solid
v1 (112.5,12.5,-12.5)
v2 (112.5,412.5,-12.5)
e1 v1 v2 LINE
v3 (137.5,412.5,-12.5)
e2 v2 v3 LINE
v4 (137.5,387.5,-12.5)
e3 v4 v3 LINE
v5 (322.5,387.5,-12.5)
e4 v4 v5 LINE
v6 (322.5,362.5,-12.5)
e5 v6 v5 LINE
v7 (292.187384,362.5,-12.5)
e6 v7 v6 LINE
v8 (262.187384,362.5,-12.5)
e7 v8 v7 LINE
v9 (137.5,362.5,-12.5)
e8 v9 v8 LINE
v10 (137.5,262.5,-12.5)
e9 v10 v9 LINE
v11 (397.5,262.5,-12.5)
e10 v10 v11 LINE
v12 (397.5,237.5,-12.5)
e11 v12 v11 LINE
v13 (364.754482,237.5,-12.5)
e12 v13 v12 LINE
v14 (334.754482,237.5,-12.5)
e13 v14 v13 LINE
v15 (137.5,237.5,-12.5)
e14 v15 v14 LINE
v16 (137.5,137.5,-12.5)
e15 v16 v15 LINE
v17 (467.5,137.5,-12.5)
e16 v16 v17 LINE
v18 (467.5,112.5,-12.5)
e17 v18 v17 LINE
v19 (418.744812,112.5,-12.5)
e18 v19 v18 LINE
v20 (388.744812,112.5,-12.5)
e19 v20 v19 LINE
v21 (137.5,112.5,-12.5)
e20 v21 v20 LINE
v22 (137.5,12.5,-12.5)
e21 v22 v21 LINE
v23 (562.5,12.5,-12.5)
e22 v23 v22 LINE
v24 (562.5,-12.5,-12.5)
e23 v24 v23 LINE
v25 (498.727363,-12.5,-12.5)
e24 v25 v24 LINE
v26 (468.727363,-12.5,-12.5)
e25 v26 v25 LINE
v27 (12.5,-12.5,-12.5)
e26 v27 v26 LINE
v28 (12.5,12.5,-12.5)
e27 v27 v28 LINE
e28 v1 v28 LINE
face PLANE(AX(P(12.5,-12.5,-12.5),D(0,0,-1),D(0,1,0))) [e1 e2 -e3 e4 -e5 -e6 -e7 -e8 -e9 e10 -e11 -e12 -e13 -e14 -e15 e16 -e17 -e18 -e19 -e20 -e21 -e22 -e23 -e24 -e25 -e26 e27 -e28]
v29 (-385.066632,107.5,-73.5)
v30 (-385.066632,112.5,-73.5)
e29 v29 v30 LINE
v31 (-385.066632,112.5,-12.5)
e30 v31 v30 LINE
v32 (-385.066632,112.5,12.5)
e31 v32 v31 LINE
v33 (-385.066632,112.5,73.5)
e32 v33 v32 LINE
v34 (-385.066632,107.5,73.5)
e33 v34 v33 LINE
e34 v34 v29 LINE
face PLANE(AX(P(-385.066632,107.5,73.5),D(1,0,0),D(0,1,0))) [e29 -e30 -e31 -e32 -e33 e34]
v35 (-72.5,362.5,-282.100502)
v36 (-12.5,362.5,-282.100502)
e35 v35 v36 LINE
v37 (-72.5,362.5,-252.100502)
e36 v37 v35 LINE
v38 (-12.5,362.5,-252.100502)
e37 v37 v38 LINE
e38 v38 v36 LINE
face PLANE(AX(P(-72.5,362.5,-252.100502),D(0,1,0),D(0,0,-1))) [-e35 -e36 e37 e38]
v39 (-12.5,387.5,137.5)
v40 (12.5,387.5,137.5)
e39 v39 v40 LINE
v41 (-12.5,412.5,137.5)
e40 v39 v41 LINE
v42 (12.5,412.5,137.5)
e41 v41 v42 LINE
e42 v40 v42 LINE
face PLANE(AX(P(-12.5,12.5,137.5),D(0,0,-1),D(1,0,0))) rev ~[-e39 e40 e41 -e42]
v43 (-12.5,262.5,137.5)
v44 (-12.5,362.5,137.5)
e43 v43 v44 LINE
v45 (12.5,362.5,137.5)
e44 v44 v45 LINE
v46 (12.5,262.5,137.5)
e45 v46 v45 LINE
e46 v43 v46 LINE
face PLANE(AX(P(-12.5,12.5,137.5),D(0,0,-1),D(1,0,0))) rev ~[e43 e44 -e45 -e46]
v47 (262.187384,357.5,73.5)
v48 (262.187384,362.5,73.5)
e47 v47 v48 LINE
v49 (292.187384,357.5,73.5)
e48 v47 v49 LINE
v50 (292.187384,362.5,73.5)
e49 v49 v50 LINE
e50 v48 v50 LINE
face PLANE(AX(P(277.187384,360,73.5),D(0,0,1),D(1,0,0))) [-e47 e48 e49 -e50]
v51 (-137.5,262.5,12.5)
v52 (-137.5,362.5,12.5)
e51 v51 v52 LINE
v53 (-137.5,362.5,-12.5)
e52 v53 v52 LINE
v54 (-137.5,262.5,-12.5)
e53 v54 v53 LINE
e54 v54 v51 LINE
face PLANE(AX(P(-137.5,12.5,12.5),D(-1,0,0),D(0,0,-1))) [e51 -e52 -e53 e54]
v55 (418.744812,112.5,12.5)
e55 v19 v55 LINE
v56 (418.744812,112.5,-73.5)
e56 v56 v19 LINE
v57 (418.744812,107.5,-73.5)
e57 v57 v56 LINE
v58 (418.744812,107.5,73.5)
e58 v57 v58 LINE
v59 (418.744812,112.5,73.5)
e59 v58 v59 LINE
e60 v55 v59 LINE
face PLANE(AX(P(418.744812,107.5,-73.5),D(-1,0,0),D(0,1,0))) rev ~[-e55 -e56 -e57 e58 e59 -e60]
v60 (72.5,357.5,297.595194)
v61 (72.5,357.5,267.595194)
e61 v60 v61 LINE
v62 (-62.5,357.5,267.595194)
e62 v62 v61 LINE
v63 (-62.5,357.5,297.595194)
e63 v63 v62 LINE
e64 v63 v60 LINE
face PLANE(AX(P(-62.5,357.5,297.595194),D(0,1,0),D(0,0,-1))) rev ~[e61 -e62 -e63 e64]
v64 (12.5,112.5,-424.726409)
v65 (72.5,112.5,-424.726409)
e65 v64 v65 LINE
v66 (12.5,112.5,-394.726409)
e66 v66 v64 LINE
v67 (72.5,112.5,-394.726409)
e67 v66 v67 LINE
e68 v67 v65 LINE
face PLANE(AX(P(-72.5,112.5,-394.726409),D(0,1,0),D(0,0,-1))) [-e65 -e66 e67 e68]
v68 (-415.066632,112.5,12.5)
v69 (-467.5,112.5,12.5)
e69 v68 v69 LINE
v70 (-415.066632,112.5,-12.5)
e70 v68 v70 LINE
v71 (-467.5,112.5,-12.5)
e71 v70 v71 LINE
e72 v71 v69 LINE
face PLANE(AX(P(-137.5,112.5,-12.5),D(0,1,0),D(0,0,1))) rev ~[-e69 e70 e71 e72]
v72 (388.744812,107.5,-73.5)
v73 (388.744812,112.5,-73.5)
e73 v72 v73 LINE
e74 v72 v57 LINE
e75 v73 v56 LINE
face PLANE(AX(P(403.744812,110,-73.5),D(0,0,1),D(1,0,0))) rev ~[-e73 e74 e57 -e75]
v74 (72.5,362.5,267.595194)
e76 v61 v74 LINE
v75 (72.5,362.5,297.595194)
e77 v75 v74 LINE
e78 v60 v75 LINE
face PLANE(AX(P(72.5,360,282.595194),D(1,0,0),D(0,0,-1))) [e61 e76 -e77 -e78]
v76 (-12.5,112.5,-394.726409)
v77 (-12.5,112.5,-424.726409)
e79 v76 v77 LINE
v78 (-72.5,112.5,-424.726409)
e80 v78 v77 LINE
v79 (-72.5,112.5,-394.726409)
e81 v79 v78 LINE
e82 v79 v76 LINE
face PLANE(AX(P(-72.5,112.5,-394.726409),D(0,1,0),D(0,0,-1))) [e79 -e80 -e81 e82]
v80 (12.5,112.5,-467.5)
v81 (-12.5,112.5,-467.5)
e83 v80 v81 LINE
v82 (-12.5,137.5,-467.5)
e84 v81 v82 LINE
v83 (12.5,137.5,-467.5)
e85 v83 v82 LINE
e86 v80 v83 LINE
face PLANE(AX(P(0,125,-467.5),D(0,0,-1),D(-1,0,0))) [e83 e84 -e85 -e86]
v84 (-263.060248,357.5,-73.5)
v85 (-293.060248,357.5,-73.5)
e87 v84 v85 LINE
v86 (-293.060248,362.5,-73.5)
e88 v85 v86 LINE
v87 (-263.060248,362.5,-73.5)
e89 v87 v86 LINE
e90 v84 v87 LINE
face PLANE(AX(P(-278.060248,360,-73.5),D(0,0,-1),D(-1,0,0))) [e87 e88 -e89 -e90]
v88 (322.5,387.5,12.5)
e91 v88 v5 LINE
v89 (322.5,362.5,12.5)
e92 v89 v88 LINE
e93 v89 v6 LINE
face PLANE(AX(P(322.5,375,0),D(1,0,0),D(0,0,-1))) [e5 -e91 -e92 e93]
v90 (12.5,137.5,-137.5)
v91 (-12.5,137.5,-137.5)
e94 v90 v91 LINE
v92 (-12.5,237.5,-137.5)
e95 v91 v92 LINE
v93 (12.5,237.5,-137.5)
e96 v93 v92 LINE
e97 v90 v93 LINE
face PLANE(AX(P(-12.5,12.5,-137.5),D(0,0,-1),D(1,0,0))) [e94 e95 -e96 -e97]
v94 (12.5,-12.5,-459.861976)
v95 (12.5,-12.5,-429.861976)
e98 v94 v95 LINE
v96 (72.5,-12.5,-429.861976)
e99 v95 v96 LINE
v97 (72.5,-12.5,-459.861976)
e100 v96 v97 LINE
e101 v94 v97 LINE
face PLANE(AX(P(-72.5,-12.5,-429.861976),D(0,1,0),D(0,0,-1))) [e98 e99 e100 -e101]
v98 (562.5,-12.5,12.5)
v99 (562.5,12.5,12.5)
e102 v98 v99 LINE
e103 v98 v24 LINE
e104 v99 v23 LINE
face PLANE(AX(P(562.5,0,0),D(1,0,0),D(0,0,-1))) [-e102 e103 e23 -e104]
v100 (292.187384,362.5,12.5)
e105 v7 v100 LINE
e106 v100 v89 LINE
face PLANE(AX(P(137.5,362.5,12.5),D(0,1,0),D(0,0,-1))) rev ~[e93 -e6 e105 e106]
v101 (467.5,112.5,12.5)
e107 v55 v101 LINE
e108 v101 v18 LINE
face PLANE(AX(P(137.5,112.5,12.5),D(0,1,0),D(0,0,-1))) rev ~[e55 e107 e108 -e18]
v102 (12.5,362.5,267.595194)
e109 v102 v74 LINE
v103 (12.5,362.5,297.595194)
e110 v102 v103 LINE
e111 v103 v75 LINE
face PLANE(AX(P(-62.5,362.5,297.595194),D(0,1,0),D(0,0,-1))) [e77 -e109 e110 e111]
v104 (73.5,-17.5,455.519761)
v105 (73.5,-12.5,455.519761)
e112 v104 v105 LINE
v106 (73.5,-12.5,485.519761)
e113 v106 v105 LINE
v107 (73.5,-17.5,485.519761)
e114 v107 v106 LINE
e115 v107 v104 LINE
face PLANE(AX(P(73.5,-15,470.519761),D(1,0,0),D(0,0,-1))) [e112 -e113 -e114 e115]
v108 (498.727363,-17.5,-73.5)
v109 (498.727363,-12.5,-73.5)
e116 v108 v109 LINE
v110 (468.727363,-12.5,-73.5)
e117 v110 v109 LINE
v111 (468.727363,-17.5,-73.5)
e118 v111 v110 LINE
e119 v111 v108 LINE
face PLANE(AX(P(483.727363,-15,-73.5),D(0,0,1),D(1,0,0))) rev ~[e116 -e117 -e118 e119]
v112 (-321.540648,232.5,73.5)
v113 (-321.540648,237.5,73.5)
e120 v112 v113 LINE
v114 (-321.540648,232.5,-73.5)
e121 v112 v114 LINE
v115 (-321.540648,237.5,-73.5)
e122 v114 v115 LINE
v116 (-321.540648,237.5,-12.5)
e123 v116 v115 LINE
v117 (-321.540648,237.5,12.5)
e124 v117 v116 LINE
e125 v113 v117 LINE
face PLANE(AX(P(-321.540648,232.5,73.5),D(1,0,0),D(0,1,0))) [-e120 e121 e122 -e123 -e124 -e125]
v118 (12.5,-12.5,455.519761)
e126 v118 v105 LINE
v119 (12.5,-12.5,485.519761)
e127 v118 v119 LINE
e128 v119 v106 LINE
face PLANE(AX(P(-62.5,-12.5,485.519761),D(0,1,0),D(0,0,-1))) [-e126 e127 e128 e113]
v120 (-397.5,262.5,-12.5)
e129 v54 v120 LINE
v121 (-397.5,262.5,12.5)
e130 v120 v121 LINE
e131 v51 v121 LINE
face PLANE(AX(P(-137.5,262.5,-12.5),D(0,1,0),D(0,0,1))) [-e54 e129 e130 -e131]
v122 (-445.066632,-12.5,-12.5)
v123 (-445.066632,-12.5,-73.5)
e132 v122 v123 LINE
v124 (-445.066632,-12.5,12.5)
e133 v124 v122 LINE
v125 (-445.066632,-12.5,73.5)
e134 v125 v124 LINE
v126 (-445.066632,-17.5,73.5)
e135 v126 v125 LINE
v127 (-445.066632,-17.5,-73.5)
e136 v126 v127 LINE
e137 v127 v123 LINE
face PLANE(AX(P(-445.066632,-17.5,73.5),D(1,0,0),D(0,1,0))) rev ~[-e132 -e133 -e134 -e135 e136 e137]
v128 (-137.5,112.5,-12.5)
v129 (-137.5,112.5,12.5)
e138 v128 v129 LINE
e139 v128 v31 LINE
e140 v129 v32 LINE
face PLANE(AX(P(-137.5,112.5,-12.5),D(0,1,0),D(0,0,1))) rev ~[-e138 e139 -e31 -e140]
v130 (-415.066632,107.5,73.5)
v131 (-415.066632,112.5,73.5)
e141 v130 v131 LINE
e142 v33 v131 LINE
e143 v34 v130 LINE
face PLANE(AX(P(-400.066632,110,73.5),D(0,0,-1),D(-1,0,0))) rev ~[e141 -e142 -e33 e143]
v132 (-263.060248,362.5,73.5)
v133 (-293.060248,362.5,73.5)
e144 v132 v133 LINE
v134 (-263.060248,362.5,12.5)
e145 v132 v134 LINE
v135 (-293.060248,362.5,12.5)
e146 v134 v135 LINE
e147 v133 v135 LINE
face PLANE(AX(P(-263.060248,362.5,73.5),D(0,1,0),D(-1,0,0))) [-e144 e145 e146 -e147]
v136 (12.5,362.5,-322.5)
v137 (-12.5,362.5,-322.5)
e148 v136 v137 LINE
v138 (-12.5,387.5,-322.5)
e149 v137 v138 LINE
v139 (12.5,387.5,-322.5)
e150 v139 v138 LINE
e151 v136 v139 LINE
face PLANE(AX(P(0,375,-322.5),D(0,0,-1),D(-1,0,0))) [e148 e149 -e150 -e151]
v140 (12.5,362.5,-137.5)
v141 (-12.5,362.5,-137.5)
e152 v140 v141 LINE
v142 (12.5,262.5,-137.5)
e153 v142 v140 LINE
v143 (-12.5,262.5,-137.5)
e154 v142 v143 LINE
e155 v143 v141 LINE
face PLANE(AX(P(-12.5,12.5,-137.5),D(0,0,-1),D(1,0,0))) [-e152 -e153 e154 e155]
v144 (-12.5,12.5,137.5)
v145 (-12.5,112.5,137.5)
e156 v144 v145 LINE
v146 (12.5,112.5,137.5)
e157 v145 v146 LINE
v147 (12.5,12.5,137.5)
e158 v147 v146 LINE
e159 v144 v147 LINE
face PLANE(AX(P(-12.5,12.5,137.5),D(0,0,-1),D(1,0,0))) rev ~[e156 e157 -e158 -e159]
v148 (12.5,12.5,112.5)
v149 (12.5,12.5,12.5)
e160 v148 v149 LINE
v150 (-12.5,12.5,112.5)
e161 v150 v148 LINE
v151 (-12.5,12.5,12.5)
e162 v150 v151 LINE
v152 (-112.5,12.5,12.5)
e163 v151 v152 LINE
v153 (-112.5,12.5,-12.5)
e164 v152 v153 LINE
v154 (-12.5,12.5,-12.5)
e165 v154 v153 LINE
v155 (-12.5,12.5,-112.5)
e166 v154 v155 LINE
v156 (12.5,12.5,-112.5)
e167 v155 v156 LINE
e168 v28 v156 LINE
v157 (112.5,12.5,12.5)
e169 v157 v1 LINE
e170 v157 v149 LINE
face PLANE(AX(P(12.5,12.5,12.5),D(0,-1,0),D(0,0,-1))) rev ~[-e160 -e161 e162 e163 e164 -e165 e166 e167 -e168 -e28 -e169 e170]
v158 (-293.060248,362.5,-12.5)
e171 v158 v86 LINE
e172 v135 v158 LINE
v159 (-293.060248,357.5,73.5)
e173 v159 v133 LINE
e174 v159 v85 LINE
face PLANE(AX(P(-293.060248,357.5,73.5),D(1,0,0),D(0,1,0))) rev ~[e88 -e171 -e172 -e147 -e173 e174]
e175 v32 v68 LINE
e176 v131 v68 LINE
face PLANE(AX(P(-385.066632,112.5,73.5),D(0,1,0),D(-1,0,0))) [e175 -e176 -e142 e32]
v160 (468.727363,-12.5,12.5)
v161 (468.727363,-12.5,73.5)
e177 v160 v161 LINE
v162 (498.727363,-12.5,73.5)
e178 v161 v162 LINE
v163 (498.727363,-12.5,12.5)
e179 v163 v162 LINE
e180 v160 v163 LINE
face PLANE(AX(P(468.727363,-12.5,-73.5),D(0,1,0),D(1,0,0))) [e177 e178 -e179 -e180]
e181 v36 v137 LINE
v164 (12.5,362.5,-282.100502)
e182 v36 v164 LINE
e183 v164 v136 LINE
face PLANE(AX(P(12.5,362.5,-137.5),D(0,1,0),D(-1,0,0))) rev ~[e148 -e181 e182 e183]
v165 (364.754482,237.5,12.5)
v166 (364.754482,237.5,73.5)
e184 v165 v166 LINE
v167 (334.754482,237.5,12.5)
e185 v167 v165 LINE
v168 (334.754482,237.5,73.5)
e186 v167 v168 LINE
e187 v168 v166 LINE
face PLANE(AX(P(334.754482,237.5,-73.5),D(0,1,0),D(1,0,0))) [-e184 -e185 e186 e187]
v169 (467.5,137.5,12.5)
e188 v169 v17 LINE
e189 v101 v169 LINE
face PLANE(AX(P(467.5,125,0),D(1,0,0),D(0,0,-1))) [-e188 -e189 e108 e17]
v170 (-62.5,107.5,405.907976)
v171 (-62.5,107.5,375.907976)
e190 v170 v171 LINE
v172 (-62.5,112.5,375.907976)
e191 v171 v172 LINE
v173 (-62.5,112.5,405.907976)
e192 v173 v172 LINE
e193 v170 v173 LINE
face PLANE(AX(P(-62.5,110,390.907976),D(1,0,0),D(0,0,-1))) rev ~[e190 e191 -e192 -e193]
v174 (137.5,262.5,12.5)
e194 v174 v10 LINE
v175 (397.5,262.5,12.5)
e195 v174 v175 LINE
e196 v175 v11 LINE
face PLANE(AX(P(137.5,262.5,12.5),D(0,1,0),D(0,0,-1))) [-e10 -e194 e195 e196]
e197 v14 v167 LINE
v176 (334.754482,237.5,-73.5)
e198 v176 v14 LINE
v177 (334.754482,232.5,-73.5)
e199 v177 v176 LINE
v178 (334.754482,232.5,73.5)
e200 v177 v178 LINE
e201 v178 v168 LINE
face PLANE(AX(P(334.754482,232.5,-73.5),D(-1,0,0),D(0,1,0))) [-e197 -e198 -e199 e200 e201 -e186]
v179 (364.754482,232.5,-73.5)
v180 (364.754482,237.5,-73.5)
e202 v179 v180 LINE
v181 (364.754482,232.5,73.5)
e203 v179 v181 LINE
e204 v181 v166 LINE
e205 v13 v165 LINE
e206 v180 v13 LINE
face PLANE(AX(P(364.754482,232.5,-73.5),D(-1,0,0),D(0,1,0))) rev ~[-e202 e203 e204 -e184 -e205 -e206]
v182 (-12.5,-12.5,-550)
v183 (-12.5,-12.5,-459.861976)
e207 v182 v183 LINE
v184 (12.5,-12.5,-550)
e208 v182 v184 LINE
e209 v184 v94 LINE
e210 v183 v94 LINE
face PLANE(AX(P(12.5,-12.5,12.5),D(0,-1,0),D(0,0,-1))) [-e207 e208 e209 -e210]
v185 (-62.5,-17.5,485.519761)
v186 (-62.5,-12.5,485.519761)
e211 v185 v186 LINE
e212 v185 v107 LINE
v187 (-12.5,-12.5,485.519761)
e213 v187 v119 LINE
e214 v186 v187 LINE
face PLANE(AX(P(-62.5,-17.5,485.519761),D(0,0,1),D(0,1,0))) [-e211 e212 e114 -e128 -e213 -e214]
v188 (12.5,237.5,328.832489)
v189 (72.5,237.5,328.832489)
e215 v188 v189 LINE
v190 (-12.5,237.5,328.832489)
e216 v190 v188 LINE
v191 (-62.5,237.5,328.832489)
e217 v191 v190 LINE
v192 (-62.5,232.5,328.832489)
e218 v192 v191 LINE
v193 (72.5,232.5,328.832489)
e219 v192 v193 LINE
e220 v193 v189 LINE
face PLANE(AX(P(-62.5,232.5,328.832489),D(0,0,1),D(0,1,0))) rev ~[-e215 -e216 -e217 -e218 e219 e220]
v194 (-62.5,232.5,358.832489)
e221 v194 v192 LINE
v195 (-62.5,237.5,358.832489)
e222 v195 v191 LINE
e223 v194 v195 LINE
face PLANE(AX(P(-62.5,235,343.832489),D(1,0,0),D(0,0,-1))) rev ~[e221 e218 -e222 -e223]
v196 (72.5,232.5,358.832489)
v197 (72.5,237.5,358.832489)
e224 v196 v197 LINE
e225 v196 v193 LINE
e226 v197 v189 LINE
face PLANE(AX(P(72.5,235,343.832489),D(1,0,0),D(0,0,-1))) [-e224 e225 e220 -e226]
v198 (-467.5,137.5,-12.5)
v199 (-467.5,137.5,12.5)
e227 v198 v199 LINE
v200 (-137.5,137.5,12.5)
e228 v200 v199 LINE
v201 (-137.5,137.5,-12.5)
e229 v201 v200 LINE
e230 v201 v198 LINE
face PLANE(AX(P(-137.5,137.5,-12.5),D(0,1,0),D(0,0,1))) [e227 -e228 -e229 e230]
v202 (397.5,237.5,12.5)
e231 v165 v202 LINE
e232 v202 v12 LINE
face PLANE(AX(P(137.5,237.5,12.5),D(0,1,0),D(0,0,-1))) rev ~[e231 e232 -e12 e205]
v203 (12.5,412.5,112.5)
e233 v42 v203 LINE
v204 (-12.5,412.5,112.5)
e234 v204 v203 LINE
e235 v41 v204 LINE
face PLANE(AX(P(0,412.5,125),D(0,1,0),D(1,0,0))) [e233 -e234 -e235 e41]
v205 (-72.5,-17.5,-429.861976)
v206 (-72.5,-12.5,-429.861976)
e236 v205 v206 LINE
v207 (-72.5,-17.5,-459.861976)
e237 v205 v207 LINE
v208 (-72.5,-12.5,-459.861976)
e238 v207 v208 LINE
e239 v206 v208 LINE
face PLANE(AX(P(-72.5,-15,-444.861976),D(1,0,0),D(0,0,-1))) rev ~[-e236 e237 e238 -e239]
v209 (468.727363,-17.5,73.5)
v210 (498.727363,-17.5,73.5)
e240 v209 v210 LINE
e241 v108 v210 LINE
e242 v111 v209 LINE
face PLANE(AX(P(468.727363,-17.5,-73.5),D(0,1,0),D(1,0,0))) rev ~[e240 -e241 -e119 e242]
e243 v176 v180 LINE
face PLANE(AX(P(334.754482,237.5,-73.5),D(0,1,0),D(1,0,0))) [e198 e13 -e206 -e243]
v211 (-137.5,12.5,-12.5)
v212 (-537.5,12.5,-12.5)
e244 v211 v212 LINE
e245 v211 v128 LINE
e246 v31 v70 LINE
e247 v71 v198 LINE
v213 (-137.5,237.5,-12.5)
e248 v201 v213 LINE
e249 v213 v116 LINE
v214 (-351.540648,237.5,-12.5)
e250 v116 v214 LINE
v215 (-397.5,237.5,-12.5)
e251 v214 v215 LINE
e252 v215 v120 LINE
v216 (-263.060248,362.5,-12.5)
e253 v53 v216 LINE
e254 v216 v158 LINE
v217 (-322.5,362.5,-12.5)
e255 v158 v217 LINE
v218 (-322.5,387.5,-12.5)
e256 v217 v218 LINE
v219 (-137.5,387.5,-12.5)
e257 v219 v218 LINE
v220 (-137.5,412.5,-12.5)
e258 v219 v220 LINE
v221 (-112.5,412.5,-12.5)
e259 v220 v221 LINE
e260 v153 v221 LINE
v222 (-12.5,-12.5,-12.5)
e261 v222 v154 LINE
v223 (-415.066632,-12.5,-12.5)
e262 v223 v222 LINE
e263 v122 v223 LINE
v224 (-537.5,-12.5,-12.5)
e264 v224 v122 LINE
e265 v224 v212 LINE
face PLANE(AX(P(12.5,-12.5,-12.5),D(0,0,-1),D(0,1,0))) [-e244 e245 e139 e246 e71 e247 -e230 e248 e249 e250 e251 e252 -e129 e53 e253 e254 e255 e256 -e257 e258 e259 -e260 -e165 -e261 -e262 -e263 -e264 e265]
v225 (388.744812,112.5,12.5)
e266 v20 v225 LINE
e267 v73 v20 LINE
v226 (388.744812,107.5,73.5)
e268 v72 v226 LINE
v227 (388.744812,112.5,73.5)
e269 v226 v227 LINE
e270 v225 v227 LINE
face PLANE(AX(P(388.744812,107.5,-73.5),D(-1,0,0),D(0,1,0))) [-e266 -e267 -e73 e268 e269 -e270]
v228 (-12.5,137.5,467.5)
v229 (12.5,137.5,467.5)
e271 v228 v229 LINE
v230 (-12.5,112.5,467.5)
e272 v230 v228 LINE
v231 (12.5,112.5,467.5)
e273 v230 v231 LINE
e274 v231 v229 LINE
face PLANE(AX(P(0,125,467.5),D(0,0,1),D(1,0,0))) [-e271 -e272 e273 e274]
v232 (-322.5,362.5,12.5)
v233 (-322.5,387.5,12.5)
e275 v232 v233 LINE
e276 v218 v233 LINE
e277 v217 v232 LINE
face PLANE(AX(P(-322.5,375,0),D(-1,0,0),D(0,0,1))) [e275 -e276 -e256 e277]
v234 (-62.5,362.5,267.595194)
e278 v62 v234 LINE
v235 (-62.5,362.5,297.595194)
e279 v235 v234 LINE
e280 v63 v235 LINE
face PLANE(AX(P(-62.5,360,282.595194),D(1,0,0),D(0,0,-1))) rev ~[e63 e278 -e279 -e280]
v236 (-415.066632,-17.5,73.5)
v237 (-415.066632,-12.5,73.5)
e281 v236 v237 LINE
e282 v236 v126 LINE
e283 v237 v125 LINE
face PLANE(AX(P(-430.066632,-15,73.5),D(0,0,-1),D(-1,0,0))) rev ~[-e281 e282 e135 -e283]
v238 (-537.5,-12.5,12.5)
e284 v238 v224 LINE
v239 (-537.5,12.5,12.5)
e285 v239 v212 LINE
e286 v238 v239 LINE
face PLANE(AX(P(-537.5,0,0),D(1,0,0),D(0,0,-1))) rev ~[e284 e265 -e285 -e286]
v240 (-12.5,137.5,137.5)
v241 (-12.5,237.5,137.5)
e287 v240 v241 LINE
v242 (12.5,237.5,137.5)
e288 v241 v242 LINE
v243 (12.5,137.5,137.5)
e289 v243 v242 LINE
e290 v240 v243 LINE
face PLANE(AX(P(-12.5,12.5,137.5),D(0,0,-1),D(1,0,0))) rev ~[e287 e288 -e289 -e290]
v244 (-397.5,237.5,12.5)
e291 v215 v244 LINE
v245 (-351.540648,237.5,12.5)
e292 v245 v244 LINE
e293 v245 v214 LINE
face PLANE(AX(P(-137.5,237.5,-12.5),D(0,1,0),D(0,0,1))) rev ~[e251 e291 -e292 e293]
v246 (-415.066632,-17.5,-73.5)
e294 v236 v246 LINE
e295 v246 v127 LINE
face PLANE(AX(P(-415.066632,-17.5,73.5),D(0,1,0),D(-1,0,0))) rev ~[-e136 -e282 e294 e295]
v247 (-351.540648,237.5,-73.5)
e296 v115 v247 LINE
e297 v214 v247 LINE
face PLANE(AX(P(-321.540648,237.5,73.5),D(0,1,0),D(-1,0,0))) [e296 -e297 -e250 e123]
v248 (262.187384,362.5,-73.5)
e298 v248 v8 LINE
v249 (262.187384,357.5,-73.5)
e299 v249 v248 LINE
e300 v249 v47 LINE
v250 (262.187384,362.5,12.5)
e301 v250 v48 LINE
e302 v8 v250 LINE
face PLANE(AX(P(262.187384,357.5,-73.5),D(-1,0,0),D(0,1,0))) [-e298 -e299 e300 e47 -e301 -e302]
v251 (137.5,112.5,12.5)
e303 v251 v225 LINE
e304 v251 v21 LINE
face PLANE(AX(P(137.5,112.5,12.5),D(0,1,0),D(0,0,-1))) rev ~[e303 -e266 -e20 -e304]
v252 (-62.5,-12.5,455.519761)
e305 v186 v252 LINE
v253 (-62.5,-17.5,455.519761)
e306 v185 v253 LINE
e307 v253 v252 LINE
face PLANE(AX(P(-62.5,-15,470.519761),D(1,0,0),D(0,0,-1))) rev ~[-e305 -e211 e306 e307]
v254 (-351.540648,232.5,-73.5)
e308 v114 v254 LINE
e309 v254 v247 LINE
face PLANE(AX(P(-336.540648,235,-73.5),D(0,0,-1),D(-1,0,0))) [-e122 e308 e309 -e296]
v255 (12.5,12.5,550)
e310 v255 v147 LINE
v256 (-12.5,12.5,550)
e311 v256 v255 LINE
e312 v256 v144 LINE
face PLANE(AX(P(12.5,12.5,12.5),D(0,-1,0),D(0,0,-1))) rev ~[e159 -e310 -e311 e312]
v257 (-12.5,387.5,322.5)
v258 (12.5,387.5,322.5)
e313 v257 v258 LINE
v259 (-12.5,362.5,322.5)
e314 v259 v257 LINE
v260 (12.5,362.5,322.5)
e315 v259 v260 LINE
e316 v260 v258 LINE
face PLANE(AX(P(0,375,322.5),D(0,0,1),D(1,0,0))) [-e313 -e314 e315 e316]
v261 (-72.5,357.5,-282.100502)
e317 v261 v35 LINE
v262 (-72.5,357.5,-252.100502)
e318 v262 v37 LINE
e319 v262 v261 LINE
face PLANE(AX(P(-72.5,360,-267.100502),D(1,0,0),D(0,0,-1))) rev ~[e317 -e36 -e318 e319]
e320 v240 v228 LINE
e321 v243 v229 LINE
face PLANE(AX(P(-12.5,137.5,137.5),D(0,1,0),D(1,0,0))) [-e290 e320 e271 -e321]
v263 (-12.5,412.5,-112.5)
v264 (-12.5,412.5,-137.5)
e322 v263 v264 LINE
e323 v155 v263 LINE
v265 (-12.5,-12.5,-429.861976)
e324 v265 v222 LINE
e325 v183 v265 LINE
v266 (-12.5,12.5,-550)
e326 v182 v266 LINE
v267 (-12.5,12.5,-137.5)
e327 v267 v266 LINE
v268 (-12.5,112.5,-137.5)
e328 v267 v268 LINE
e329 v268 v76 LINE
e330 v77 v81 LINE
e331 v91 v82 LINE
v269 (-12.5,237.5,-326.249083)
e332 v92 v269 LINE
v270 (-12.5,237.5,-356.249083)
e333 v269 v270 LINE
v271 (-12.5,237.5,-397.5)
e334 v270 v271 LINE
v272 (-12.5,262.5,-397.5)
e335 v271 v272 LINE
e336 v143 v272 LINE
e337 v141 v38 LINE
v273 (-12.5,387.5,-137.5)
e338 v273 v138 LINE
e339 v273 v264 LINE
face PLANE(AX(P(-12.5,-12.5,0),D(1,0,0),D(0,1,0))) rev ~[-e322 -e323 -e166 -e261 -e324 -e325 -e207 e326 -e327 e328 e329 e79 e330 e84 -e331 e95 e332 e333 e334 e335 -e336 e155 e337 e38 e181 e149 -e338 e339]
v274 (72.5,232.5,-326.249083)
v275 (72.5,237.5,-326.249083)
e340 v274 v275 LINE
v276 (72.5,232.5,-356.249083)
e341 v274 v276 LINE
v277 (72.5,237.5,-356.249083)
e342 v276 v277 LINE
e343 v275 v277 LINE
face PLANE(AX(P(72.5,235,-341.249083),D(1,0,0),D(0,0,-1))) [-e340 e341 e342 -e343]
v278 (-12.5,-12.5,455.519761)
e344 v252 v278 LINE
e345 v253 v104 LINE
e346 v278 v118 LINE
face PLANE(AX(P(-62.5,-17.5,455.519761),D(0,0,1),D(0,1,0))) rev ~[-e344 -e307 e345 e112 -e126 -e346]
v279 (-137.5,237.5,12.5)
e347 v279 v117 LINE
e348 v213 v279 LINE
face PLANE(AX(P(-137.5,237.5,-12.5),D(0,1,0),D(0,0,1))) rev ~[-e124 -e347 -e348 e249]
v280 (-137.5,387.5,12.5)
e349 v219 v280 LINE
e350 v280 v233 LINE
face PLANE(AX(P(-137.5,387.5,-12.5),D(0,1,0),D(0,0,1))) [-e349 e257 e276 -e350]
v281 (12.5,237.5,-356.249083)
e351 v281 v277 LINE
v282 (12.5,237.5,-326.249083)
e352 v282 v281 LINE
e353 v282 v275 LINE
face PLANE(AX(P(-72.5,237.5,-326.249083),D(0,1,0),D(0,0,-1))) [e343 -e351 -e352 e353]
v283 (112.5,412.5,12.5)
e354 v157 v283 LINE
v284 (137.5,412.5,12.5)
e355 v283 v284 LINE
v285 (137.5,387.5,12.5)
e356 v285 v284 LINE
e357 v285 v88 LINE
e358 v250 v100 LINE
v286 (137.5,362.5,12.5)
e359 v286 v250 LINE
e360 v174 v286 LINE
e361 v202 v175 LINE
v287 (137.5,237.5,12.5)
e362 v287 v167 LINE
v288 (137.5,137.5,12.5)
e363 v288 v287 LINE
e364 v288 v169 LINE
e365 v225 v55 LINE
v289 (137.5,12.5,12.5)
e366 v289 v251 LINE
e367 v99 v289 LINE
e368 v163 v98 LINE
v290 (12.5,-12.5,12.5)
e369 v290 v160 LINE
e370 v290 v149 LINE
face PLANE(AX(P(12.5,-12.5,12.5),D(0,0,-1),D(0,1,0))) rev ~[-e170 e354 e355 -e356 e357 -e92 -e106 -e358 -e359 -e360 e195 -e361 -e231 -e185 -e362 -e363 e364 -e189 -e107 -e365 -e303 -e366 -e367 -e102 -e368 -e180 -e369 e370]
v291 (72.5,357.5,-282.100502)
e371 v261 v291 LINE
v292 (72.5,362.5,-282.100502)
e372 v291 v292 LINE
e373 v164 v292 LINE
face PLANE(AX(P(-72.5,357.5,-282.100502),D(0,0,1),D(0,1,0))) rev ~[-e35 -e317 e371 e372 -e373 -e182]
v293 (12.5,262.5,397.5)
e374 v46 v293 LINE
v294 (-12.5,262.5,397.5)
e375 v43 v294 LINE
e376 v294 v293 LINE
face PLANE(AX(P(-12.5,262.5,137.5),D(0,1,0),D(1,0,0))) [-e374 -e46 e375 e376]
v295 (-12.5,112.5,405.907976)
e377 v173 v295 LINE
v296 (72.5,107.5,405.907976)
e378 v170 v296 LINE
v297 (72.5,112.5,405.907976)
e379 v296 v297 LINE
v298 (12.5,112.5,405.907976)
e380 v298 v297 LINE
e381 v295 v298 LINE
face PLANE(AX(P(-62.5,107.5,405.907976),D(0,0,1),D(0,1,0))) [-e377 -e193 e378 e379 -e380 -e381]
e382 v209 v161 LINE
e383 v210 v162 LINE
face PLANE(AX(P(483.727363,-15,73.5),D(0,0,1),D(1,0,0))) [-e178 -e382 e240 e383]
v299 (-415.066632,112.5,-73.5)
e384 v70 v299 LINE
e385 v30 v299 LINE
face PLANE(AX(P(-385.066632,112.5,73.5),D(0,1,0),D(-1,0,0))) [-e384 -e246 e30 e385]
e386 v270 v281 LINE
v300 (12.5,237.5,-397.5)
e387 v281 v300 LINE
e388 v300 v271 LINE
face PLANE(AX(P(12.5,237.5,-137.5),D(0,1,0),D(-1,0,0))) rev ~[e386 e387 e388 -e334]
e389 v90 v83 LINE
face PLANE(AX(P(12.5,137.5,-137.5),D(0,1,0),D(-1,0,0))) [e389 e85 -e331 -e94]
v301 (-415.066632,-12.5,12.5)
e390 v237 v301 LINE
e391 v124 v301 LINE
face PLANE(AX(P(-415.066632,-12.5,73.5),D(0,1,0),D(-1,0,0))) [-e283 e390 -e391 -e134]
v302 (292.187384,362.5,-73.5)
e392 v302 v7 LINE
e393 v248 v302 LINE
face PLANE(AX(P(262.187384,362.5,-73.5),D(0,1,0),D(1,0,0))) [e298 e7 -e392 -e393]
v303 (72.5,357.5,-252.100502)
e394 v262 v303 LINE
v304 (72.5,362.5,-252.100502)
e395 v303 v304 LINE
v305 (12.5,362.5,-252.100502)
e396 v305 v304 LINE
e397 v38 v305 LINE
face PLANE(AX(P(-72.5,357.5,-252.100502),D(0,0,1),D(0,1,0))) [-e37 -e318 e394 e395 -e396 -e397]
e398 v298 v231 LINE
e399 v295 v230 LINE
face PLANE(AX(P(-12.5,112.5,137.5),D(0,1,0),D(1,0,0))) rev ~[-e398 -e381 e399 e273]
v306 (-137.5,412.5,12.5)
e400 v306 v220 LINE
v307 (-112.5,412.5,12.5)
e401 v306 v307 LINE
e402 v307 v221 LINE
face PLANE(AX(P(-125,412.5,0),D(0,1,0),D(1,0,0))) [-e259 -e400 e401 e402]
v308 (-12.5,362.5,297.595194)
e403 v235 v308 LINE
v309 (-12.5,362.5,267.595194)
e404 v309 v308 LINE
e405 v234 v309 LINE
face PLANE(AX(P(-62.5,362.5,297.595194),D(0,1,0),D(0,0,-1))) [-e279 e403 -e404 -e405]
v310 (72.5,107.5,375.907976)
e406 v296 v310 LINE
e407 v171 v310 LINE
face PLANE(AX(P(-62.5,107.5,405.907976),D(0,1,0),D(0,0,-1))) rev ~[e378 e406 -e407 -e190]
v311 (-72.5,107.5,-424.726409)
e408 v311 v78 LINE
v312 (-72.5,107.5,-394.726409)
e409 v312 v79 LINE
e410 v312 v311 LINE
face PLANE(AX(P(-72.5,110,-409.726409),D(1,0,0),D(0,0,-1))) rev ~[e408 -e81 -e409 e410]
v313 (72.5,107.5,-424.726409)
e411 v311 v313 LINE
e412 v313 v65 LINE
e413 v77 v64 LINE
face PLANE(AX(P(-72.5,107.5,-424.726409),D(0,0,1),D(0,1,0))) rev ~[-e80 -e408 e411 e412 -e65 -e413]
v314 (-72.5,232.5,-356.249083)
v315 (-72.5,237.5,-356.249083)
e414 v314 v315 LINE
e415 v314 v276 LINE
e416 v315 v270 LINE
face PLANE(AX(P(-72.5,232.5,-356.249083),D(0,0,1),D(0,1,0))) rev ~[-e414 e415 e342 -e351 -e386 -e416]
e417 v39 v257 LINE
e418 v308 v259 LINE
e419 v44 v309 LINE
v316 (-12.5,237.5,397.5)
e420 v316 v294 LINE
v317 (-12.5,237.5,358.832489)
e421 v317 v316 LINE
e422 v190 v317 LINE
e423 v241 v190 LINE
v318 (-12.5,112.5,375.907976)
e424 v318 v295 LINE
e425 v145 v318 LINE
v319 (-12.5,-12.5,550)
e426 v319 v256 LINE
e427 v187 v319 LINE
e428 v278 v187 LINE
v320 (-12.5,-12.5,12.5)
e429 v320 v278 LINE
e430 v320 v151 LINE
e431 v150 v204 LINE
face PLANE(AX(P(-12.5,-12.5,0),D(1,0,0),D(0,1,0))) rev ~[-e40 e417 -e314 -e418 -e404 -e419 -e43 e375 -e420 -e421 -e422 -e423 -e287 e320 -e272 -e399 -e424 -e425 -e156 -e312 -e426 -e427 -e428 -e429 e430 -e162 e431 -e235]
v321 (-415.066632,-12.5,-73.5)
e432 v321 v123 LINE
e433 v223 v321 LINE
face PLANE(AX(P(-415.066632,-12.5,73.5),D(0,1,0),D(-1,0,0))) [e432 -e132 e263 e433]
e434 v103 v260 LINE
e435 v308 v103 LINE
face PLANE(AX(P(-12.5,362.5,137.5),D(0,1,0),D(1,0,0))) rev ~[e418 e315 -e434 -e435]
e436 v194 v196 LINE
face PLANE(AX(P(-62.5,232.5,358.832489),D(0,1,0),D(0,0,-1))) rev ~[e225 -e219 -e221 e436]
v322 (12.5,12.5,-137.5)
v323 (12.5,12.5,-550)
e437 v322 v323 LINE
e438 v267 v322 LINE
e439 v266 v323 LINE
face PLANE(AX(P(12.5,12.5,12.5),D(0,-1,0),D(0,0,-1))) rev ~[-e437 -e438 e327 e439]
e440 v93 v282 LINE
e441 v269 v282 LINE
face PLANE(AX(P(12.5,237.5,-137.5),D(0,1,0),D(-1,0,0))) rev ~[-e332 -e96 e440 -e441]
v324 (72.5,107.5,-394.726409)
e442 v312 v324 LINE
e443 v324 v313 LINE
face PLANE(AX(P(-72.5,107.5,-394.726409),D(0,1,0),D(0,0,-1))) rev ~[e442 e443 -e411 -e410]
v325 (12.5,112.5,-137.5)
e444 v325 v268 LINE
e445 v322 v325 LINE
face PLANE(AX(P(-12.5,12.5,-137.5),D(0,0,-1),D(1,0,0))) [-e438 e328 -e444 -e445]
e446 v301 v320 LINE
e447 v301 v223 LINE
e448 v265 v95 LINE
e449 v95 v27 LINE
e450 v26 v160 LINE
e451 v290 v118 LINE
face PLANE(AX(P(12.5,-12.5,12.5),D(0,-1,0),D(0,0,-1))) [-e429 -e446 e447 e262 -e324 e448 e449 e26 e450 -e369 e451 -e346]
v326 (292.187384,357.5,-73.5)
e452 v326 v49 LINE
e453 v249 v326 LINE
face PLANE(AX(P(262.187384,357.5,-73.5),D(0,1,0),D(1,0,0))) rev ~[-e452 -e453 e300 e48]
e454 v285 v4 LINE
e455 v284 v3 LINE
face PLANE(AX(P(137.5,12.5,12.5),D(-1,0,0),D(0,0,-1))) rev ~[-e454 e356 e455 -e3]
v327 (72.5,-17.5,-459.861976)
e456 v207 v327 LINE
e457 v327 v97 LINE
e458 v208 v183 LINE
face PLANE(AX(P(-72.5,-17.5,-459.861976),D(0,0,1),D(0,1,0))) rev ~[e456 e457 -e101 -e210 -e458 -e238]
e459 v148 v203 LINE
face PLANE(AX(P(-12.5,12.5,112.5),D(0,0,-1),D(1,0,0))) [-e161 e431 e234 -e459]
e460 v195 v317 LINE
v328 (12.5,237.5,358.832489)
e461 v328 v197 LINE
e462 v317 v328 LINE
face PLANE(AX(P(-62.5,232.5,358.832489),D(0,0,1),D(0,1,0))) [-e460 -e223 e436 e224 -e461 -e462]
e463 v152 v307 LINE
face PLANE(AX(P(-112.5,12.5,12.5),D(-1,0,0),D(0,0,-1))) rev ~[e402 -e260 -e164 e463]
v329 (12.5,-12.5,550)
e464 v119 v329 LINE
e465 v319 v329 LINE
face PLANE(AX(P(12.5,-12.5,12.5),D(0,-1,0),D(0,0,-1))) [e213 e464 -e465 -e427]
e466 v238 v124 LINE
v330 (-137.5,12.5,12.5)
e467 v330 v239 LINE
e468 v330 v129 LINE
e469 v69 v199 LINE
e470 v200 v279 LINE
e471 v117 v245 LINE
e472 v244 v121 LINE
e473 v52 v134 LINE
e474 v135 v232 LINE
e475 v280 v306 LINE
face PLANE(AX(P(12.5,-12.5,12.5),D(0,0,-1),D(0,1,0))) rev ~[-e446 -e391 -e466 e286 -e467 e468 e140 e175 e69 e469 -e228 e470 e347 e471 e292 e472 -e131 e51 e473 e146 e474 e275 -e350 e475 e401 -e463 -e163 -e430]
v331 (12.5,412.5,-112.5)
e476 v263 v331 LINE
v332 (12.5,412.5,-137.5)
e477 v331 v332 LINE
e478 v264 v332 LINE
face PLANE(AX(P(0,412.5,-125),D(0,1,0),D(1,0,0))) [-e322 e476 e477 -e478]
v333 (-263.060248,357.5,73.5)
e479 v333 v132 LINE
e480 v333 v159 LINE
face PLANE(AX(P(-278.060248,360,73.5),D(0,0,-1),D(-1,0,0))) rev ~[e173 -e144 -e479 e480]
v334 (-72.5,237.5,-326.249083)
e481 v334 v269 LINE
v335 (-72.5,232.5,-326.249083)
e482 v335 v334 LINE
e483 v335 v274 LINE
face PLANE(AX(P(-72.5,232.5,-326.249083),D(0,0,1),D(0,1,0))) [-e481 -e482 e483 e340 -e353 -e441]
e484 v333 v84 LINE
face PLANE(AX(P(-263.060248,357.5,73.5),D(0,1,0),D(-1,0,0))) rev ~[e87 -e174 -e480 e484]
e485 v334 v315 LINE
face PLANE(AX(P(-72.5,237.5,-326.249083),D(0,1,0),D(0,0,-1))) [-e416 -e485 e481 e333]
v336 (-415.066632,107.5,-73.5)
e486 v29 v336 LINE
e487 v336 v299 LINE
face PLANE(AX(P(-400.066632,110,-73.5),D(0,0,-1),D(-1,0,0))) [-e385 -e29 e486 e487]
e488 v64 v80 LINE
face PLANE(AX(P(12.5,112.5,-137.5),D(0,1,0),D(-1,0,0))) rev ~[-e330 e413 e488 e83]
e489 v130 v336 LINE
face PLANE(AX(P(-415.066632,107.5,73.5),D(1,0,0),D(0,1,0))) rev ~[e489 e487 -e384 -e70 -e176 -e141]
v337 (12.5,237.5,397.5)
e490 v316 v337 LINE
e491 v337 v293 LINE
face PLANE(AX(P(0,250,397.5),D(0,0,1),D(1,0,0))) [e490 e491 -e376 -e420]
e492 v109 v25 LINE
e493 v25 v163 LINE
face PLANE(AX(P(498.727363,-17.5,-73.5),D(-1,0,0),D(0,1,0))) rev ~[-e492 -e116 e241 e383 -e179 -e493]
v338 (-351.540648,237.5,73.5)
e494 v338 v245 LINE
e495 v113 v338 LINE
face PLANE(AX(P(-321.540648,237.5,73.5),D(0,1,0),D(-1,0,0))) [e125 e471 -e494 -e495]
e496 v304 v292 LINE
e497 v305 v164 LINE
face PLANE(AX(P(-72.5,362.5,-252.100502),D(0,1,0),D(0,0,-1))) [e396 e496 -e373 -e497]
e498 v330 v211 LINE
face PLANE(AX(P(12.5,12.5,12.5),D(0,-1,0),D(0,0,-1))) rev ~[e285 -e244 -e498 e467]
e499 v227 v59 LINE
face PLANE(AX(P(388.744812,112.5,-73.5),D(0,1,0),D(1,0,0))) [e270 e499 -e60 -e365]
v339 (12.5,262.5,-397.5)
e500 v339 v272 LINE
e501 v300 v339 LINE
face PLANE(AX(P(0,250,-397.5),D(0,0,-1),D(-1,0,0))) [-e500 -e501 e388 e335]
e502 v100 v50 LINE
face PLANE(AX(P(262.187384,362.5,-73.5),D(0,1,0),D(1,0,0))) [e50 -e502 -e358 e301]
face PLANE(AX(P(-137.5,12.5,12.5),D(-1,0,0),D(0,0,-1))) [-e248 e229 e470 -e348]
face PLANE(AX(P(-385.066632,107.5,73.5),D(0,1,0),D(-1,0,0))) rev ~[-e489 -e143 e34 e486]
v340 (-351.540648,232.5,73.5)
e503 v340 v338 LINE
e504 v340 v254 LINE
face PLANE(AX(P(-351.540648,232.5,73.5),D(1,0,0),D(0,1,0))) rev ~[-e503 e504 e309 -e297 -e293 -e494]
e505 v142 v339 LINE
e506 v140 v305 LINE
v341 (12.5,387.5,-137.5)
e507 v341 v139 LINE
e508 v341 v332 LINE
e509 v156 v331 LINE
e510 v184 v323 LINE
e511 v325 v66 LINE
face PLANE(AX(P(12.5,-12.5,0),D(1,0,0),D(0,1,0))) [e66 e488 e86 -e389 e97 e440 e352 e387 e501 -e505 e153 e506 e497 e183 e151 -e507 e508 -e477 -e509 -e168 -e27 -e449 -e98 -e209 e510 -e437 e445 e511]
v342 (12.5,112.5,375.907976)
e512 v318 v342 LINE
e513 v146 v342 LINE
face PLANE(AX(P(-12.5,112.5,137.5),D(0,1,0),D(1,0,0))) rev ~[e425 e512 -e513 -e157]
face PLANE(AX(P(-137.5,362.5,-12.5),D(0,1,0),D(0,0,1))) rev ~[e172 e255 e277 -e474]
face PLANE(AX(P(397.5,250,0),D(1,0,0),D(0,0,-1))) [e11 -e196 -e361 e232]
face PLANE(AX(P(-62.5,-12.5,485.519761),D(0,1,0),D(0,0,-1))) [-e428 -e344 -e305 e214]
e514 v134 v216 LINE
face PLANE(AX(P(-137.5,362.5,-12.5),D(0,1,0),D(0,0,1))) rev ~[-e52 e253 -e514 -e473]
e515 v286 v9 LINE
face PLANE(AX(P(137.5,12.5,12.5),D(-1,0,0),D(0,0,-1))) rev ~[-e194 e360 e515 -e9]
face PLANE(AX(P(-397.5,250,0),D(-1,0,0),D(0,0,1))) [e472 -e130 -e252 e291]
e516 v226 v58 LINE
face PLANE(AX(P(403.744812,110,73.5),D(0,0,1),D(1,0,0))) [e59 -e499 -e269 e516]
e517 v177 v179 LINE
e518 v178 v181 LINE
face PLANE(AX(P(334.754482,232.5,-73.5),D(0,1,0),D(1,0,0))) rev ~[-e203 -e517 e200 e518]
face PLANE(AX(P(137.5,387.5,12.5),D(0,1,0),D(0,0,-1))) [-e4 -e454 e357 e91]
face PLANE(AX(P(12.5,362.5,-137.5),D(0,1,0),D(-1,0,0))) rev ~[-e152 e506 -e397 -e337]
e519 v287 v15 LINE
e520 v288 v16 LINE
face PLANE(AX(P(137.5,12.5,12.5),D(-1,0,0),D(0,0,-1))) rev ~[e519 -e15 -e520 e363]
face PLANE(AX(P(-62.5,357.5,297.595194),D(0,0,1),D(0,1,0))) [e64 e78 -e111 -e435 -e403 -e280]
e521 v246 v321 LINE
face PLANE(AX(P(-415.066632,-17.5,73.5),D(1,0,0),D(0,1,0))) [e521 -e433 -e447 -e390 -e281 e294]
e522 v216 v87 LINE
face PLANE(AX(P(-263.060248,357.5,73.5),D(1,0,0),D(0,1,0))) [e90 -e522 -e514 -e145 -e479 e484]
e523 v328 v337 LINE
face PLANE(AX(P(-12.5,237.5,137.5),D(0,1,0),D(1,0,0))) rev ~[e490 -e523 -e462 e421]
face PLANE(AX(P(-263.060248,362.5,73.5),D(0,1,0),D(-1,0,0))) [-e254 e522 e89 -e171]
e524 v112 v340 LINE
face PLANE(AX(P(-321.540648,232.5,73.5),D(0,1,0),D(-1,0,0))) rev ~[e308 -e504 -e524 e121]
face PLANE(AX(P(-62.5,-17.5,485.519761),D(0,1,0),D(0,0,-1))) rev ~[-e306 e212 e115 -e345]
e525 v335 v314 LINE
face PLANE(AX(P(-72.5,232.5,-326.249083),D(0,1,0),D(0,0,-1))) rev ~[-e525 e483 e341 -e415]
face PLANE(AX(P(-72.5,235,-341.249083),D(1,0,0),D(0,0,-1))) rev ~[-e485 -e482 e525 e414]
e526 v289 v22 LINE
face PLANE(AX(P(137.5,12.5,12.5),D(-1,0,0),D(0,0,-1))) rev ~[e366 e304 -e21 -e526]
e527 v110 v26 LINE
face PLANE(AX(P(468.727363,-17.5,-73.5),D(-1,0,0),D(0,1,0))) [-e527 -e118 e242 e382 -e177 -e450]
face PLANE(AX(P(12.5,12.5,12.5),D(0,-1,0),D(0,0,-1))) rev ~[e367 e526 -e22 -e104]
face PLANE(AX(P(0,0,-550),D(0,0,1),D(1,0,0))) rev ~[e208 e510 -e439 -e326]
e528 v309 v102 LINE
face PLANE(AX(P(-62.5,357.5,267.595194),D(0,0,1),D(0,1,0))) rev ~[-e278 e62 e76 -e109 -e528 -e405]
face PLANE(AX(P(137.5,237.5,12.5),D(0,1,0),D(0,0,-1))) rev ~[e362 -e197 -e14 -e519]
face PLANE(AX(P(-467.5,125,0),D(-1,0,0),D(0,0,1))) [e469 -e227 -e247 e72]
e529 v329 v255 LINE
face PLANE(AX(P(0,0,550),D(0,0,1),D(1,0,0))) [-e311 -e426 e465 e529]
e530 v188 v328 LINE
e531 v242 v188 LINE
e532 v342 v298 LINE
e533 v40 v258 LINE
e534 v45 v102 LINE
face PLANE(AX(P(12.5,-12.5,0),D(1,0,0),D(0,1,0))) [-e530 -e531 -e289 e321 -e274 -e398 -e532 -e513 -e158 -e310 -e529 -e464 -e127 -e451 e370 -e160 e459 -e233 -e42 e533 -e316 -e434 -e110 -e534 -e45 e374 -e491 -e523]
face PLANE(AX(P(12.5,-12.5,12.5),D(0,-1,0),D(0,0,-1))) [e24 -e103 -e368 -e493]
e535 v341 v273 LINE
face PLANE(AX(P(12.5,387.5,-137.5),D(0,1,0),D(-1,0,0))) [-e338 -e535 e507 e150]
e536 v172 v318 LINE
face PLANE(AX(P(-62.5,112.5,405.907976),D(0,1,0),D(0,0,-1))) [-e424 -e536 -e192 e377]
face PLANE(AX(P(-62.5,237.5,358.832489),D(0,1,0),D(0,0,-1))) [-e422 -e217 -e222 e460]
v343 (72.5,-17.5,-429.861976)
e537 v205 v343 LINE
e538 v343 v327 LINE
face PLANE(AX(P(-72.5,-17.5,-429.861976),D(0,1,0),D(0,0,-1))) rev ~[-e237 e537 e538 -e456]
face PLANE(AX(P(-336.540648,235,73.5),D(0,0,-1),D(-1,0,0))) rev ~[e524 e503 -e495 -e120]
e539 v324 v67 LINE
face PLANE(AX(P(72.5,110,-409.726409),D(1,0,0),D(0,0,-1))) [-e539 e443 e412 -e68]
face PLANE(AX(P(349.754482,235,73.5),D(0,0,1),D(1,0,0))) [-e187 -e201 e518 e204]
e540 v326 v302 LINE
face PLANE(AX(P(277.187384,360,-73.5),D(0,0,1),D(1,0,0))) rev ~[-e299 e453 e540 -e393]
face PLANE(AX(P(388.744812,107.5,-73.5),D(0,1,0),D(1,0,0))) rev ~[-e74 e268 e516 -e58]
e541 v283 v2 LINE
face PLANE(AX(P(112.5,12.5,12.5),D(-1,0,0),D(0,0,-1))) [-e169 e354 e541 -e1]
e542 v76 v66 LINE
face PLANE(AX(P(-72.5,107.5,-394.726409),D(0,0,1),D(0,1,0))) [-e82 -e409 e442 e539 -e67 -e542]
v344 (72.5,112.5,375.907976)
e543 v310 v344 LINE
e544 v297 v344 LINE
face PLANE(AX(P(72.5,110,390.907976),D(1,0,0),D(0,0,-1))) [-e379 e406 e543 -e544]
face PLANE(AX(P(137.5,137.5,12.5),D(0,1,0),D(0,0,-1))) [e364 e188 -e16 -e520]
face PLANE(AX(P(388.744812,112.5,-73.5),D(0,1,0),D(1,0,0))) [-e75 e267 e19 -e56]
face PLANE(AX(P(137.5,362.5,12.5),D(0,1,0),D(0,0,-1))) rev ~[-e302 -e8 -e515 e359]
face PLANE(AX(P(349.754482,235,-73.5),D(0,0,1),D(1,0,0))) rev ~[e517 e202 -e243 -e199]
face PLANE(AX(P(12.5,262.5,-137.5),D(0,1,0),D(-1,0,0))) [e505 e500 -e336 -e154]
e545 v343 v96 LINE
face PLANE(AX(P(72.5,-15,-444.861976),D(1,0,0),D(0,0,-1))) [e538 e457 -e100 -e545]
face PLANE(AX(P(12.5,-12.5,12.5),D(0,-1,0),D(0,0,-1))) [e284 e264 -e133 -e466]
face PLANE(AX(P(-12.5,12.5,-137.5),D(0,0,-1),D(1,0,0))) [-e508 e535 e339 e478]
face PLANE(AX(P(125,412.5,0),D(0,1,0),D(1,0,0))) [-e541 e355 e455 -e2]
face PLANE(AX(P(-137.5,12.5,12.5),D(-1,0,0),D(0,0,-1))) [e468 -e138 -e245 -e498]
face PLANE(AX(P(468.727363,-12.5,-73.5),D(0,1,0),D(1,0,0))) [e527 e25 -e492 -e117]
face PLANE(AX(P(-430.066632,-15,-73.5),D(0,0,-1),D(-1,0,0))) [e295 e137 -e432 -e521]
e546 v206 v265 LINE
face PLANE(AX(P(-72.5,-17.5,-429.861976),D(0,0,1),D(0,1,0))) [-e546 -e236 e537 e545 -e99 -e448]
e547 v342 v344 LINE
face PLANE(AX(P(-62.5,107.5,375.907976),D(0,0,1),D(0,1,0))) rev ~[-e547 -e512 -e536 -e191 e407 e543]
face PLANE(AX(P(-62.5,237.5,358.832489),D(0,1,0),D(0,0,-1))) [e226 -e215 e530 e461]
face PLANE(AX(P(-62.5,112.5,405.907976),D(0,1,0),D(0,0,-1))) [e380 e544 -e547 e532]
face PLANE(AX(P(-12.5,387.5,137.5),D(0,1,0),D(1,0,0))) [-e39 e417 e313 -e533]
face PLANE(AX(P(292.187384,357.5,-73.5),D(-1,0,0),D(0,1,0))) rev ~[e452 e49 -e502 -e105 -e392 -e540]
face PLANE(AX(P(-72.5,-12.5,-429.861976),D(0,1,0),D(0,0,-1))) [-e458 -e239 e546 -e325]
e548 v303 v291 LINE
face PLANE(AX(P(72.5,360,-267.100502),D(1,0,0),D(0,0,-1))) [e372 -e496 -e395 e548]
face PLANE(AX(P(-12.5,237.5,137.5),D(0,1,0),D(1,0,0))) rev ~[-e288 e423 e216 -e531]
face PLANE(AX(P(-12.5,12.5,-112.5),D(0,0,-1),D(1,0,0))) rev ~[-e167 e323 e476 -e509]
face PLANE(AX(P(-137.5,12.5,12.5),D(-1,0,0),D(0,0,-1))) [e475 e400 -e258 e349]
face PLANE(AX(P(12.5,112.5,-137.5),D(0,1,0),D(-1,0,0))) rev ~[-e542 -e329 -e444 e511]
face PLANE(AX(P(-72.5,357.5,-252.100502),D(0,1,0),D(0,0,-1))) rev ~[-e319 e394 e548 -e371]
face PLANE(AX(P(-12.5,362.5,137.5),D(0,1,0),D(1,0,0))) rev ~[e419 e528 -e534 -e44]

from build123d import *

# Parameters (mm, degrees)
SKETCH3_W                 = 25
SKETCH3_H                 = 25
BOSS_EXTRUDE2_DEPTH       = 550
SKETCH5_W                 = 25
SKETCH5_H                 = 25
BOSS_EXTRUDE3_DEPTH       = 550
SKETCH7_W                 = 25
SKETCH7_H                 = 25
BOSS_EXTRUDE4_DEPTH       = 400
SKETCH8_W                 = 25
SKETCH8_H                 = 25
BOSS_EXTRUDE5_DEPTH       = 400
SKETCH9_W                 = 25
SKETCH9_H                 = 25
BOSS_EXTRUDE7_DEPTH       = 260
SKETCH9_5_W               = 25
SKETCH9_5_H               = 25
BOSS_EXTRUDE8_DEPTH       = 330
SKETCH9_8_W               = 25
SKETCH9_8_H               = 25
BOSS_EXTRUDE10_DEPTH      = 185
SKETCH11_W                = 25
SKETCH11_H                = 25
BOSS_EXTRUDE11_DEPTH      = 185
SKETCH11_5_W              = 25
SKETCH11_5_H              = 25
BOSS_EXTRUDE12_DEPTH      = 260
SKETCH11_6_W              = 25
SKETCH11_6_H              = 25
BOSS_EXTRUDE13_DEPTH      = 330
SKETCH12_W                = 25
SKETCH12_H                = 25
BOSS_EXTRUDE14_DEPTH      = 185
SKETCH12_3_W              = 25
SKETCH12_3_H              = 25
BOSS_EXTRUDE15_DEPTH      = 260
SKETCH12_4_W              = 25
SKETCH12_4_H              = 25
BOSS_EXTRUDE16_DEPTH      = 330
SKETCH13_W                = 25
SKETCH13_H                = 25
BOSS_EXTRUDE17_DEPTH      = 330
SKETCH13_3_W              = 25
SKETCH13_3_H              = 25
BOSS_EXTRUDE18_DEPTH      = 260
SKETCH13_4_W              = 25
SKETCH13_4_H              = 25
BOSS_EXTRUDE19_DEPTH      = 185
BOSS_EXTRUDE21_DEPTH      = 61
BOSS_EXTRUDE21_DEPTH_BACK = 75
SKETCH15_W                = 30
SKETCH15_H                = 5
BOSS_EXTRUDE22_DEPTH      = 60
BOSS_EXTRUDE22_DEPTH_BACK = 75
SKETCH16_W                = 30
SKETCH16_H                = 5
BOSS_EXTRUDE23_DEPTH      = 61
BOSS_EXTRUDE23_DEPTH_BACK = 86
SKETCH18_W                = 30
SKETCH18_H                = 5
BOSS_EXTRUDE24_DEPTH      = 60
BOSS_EXTRUDE24_DEPTH_BACK = 85
SKETCH19_W                = 30
SKETCH19_H                = 5
BOSS_EXTRUDE27_DEPTH      = 61
BOSS_EXTRUDE27_DEPTH_BACK = 86
SKETCH20_W                = 30
SKETCH20_H                = 5


with BuildPart() as part:
    # Sketch3 → Boss-Extrude2 (new, symmetric)
    with BuildSketch(Plane.XY):
        Rectangle(SKETCH3_W, SKETCH3_H)
    extrude(amount=BOSS_EXTRUDE2_DEPTH, both=True)

    # Sketch5 → Boss-Extrude3 (add, symmetric)
    with BuildSketch(Plane(origin=(12.5, 0, 0), x_dir=(0, 0, -1), z_dir=(1, 0, 0))):
        Rectangle(SKETCH5_W, SKETCH5_H)
    extrude(amount=BOSS_EXTRUDE3_DEPTH, both=True)

    # Sketch7 → Boss-Extrude4 (add)
    with BuildSketch(Plane(origin=(0, 12.5, 0), x_dir=(1, 0, 0), z_dir=(0, 1, 0))):
        with Locations((0, -125)):
            Rectangle(SKETCH7_W, SKETCH7_H)
        with Locations((0, 125)):
            Rectangle(SKETCH7_W, SKETCH7_H)
    extrude(amount=BOSS_EXTRUDE4_DEPTH)

    # Sketch8 → Boss-Extrude5 (add)
    with BuildSketch(Plane(origin=(0, 12.5, 0), x_dir=(1, 0, 0), z_dir=(0, 1, 0))):
        with Locations((125, 0)):
            Rectangle(SKETCH8_W, SKETCH8_H)
        with Locations((-125, 0)):
            Rectangle(SKETCH8_W, SKETCH8_H)
    extrude(amount=BOSS_EXTRUDE5_DEPTH)

    # Sketch9 → Boss-Extrude7 (add)
    with BuildSketch(Plane.XY.offset(137.5)):
        with Locations((0, 250)):
            Rectangle(SKETCH9_W, SKETCH9_H)
    extrude(amount=BOSS_EXTRUDE7_DEPTH)

    # Sketch9<5> → Boss-Extrude8 (add)
    with BuildSketch(Plane.XY.offset(137.5)):
        with Locations((0, 125)):
            Rectangle(SKETCH9_5_W, SKETCH9_5_H)
    extrude(amount=BOSS_EXTRUDE8_DEPTH)

    # Sketch9<8> → Boss-Extrude10 (add)
    with BuildSketch(Plane.XY.offset(137.5)):
        with Locations((0, 375)):
            Rectangle(SKETCH9_8_W, SKETCH9_8_H)
    extrude(amount=BOSS_EXTRUDE10_DEPTH)

    # Sketch11 → Boss-Extrude11 (add)
    with BuildSketch(Plane.ZY.offset(137.5)):
        with Locations((0, 375)):
            Rectangle(SKETCH11_W, SKETCH11_H)
    extrude(amount=BOSS_EXTRUDE11_DEPTH)

    # Sketch11<5> → Boss-Extrude12 (add)
    with BuildSketch(Plane.ZY.offset(137.5)):
        with Locations((0, 250)):
            Rectangle(SKETCH11_5_W, SKETCH11_5_H)
    extrude(amount=BOSS_EXTRUDE12_DEPTH)

    # Sketch11<6> → Boss-Extrude13 (add)
    with BuildSketch(Plane.ZY.offset(137.5)):
        with Locations((0, 125)):
            Rectangle(SKETCH11_6_W, SKETCH11_6_H)
    extrude(amount=BOSS_EXTRUDE13_DEPTH)

    # Sketch12 → Boss-Extrude14 (add)
    with BuildSketch(Plane(origin=(0, 0, -137.5), x_dir=(-1, 0, 0), z_dir=(0, 0, -1))):
        with Locations((0, 375)):
            Rectangle(SKETCH12_W, SKETCH12_H)
    extrude(amount=BOSS_EXTRUDE14_DEPTH)

    # Sketch12<3> → Boss-Extrude15 (add)
    with BuildSketch(Plane(origin=(0, 0, -137.5), x_dir=(-1, 0, 0), z_dir=(0, 0, -1))):
        with Locations((0, 250)):
            Rectangle(SKETCH12_3_W, SKETCH12_3_H)
    extrude(amount=BOSS_EXTRUDE15_DEPTH)

    # Sketch12<4> → Boss-Extrude16 (add)
    with BuildSketch(Plane(origin=(0, 0, -137.5), x_dir=(-1, 0, 0), z_dir=(0, 0, -1))):
        with Locations((0, 125)):
            Rectangle(SKETCH12_4_W, SKETCH12_4_H)
    extrude(amount=BOSS_EXTRUDE16_DEPTH)

    # Sketch13 → Boss-Extrude17 (add)
    with BuildSketch(Plane(origin=(137.5, 0, 0), x_dir=(0, 0, -1), z_dir=(1, 0, 0))):
        with Locations((0, 125)):
            Rectangle(SKETCH13_W, SKETCH13_H)
    extrude(amount=BOSS_EXTRUDE17_DEPTH)

    # Sketch13<3> → Boss-Extrude18 (add)
    with BuildSketch(Plane(origin=(137.5, 0, 0), x_dir=(0, 0, -1), z_dir=(1, 0, 0))):
        with Locations((0, 250)):
            Rectangle(SKETCH13_3_W, SKETCH13_3_H)
    extrude(amount=BOSS_EXTRUDE18_DEPTH)

    # Sketch13<4> → Boss-Extrude19 (add)
    with BuildSketch(Plane(origin=(137.5, 0, 0), x_dir=(0, 0, -1), z_dir=(1, 0, 0))):
        with Locations((0, 375)):
            Rectangle(SKETCH13_4_W, SKETCH13_4_H)
    extrude(amount=BOSS_EXTRUDE19_DEPTH)

    # Sketch15 → Boss-Extrude21 (add, two sides: drawn at the far end of the back side and taken through both)
    with BuildSketch(Plane(origin=(12.5, 0, 0), x_dir=(0, 0, -1), z_dir=(1, 0, 0)).offset(-BOSS_EXTRUDE21_DEPTH_BACK)):
        with Locations((-470.519761445, -15)):
            Rectangle(SKETCH15_W, SKETCH15_H)
    extrude(amount=BOSS_EXTRUDE21_DEPTH + BOSS_EXTRUDE21_DEPTH_BACK)

    # Sketch16 → Boss-Extrude22 (add, two sides: drawn at the far end of the back side and taken through both)
    with BuildSketch(Plane(origin=(12.5, 0, 0), x_dir=(0, 0, -1), z_dir=(1, 0, 0)).offset(-BOSS_EXTRUDE22_DEPTH_BACK)):
        with Locations((-390.907976081, 110)):
            Rectangle(SKETCH16_W, SKETCH16_H)
        with Locations((-343.832488687, 235)):
            Rectangle(SKETCH16_W, SKETCH16_H)
        with Locations((-282.595194205, 360)):
            Rectangle(SKETCH16_W, SKETCH16_H)
    extrude(amount=BOSS_EXTRUDE22_DEPTH + BOSS_EXTRUDE22_DEPTH_BACK)

    # Sketch18 → Boss-Extrude23 (add, two sides: drawn at the far end of the back side and taken through both)
    with BuildSketch(Plane.XY.offset(12.5).offset(-BOSS_EXTRUDE23_DEPTH_BACK)):
        with Locations((483.727363311, -15)):
            Rectangle(SKETCH18_W, SKETCH18_H)
        with Locations((403.744811794, 110)):
            Rectangle(SKETCH18_W, SKETCH18_H)
        with Locations((349.754481778, 235)):
            Rectangle(SKETCH18_W, SKETCH18_H)
        with Locations((277.187384398, 360)):
            Rectangle(SKETCH18_W, SKETCH18_H)
    extrude(amount=BOSS_EXTRUDE23_DEPTH + BOSS_EXTRUDE23_DEPTH_BACK)

    # Sketch19 → Boss-Extrude24 (add, two sides: drawn at the far end of the back side and taken through both)
    with BuildSketch(Plane(origin=(12.5, 0, 0), x_dir=(0, 0, -1), z_dir=(1, 0, 0)).offset(-BOSS_EXTRUDE24_DEPTH_BACK)):
        with Locations((444.861975809, -15)):
            Rectangle(SKETCH19_W, SKETCH19_H)
        with Locations((409.726408873, 110)):
            Rectangle(SKETCH19_W, SKETCH19_H)
        with Locations((341.249082781, 235)):
            Rectangle(SKETCH19_W, SKETCH19_H)
        with Locations((267.100501546, 360)):
            Rectangle(SKETCH19_W, SKETCH19_H)
    extrude(amount=BOSS_EXTRUDE24_DEPTH + BOSS_EXTRUDE24_DEPTH_BACK)

    # Sketch20 → Boss-Extrude27 (add, two sides: drawn at the far end of the back side and taken through both)
    with BuildSketch(Plane(origin=(0, 0, -12.5), x_dir=(-1, 0, 0), z_dir=(0, 0, -1)).offset(-BOSS_EXTRUDE27_DEPTH_BACK)):
        with Locations((430.066631827, -15)):
            Rectangle(SKETCH20_W, SKETCH20_H)
        with Locations((400.066631827, 110)):
            Rectangle(SKETCH20_W, SKETCH20_H)
        with Locations((336.540647737, 235)):
            Rectangle(SKETCH20_W, SKETCH20_H)
        with Locations((278.06024781, 360)):
            Rectangle(SKETCH20_W, SKETCH20_H)
    extrude(amount=BOSS_EXTRUDE27_DEPTH + BOSS_EXTRUDE27_DEPTH_BACK)


solid = part.part
